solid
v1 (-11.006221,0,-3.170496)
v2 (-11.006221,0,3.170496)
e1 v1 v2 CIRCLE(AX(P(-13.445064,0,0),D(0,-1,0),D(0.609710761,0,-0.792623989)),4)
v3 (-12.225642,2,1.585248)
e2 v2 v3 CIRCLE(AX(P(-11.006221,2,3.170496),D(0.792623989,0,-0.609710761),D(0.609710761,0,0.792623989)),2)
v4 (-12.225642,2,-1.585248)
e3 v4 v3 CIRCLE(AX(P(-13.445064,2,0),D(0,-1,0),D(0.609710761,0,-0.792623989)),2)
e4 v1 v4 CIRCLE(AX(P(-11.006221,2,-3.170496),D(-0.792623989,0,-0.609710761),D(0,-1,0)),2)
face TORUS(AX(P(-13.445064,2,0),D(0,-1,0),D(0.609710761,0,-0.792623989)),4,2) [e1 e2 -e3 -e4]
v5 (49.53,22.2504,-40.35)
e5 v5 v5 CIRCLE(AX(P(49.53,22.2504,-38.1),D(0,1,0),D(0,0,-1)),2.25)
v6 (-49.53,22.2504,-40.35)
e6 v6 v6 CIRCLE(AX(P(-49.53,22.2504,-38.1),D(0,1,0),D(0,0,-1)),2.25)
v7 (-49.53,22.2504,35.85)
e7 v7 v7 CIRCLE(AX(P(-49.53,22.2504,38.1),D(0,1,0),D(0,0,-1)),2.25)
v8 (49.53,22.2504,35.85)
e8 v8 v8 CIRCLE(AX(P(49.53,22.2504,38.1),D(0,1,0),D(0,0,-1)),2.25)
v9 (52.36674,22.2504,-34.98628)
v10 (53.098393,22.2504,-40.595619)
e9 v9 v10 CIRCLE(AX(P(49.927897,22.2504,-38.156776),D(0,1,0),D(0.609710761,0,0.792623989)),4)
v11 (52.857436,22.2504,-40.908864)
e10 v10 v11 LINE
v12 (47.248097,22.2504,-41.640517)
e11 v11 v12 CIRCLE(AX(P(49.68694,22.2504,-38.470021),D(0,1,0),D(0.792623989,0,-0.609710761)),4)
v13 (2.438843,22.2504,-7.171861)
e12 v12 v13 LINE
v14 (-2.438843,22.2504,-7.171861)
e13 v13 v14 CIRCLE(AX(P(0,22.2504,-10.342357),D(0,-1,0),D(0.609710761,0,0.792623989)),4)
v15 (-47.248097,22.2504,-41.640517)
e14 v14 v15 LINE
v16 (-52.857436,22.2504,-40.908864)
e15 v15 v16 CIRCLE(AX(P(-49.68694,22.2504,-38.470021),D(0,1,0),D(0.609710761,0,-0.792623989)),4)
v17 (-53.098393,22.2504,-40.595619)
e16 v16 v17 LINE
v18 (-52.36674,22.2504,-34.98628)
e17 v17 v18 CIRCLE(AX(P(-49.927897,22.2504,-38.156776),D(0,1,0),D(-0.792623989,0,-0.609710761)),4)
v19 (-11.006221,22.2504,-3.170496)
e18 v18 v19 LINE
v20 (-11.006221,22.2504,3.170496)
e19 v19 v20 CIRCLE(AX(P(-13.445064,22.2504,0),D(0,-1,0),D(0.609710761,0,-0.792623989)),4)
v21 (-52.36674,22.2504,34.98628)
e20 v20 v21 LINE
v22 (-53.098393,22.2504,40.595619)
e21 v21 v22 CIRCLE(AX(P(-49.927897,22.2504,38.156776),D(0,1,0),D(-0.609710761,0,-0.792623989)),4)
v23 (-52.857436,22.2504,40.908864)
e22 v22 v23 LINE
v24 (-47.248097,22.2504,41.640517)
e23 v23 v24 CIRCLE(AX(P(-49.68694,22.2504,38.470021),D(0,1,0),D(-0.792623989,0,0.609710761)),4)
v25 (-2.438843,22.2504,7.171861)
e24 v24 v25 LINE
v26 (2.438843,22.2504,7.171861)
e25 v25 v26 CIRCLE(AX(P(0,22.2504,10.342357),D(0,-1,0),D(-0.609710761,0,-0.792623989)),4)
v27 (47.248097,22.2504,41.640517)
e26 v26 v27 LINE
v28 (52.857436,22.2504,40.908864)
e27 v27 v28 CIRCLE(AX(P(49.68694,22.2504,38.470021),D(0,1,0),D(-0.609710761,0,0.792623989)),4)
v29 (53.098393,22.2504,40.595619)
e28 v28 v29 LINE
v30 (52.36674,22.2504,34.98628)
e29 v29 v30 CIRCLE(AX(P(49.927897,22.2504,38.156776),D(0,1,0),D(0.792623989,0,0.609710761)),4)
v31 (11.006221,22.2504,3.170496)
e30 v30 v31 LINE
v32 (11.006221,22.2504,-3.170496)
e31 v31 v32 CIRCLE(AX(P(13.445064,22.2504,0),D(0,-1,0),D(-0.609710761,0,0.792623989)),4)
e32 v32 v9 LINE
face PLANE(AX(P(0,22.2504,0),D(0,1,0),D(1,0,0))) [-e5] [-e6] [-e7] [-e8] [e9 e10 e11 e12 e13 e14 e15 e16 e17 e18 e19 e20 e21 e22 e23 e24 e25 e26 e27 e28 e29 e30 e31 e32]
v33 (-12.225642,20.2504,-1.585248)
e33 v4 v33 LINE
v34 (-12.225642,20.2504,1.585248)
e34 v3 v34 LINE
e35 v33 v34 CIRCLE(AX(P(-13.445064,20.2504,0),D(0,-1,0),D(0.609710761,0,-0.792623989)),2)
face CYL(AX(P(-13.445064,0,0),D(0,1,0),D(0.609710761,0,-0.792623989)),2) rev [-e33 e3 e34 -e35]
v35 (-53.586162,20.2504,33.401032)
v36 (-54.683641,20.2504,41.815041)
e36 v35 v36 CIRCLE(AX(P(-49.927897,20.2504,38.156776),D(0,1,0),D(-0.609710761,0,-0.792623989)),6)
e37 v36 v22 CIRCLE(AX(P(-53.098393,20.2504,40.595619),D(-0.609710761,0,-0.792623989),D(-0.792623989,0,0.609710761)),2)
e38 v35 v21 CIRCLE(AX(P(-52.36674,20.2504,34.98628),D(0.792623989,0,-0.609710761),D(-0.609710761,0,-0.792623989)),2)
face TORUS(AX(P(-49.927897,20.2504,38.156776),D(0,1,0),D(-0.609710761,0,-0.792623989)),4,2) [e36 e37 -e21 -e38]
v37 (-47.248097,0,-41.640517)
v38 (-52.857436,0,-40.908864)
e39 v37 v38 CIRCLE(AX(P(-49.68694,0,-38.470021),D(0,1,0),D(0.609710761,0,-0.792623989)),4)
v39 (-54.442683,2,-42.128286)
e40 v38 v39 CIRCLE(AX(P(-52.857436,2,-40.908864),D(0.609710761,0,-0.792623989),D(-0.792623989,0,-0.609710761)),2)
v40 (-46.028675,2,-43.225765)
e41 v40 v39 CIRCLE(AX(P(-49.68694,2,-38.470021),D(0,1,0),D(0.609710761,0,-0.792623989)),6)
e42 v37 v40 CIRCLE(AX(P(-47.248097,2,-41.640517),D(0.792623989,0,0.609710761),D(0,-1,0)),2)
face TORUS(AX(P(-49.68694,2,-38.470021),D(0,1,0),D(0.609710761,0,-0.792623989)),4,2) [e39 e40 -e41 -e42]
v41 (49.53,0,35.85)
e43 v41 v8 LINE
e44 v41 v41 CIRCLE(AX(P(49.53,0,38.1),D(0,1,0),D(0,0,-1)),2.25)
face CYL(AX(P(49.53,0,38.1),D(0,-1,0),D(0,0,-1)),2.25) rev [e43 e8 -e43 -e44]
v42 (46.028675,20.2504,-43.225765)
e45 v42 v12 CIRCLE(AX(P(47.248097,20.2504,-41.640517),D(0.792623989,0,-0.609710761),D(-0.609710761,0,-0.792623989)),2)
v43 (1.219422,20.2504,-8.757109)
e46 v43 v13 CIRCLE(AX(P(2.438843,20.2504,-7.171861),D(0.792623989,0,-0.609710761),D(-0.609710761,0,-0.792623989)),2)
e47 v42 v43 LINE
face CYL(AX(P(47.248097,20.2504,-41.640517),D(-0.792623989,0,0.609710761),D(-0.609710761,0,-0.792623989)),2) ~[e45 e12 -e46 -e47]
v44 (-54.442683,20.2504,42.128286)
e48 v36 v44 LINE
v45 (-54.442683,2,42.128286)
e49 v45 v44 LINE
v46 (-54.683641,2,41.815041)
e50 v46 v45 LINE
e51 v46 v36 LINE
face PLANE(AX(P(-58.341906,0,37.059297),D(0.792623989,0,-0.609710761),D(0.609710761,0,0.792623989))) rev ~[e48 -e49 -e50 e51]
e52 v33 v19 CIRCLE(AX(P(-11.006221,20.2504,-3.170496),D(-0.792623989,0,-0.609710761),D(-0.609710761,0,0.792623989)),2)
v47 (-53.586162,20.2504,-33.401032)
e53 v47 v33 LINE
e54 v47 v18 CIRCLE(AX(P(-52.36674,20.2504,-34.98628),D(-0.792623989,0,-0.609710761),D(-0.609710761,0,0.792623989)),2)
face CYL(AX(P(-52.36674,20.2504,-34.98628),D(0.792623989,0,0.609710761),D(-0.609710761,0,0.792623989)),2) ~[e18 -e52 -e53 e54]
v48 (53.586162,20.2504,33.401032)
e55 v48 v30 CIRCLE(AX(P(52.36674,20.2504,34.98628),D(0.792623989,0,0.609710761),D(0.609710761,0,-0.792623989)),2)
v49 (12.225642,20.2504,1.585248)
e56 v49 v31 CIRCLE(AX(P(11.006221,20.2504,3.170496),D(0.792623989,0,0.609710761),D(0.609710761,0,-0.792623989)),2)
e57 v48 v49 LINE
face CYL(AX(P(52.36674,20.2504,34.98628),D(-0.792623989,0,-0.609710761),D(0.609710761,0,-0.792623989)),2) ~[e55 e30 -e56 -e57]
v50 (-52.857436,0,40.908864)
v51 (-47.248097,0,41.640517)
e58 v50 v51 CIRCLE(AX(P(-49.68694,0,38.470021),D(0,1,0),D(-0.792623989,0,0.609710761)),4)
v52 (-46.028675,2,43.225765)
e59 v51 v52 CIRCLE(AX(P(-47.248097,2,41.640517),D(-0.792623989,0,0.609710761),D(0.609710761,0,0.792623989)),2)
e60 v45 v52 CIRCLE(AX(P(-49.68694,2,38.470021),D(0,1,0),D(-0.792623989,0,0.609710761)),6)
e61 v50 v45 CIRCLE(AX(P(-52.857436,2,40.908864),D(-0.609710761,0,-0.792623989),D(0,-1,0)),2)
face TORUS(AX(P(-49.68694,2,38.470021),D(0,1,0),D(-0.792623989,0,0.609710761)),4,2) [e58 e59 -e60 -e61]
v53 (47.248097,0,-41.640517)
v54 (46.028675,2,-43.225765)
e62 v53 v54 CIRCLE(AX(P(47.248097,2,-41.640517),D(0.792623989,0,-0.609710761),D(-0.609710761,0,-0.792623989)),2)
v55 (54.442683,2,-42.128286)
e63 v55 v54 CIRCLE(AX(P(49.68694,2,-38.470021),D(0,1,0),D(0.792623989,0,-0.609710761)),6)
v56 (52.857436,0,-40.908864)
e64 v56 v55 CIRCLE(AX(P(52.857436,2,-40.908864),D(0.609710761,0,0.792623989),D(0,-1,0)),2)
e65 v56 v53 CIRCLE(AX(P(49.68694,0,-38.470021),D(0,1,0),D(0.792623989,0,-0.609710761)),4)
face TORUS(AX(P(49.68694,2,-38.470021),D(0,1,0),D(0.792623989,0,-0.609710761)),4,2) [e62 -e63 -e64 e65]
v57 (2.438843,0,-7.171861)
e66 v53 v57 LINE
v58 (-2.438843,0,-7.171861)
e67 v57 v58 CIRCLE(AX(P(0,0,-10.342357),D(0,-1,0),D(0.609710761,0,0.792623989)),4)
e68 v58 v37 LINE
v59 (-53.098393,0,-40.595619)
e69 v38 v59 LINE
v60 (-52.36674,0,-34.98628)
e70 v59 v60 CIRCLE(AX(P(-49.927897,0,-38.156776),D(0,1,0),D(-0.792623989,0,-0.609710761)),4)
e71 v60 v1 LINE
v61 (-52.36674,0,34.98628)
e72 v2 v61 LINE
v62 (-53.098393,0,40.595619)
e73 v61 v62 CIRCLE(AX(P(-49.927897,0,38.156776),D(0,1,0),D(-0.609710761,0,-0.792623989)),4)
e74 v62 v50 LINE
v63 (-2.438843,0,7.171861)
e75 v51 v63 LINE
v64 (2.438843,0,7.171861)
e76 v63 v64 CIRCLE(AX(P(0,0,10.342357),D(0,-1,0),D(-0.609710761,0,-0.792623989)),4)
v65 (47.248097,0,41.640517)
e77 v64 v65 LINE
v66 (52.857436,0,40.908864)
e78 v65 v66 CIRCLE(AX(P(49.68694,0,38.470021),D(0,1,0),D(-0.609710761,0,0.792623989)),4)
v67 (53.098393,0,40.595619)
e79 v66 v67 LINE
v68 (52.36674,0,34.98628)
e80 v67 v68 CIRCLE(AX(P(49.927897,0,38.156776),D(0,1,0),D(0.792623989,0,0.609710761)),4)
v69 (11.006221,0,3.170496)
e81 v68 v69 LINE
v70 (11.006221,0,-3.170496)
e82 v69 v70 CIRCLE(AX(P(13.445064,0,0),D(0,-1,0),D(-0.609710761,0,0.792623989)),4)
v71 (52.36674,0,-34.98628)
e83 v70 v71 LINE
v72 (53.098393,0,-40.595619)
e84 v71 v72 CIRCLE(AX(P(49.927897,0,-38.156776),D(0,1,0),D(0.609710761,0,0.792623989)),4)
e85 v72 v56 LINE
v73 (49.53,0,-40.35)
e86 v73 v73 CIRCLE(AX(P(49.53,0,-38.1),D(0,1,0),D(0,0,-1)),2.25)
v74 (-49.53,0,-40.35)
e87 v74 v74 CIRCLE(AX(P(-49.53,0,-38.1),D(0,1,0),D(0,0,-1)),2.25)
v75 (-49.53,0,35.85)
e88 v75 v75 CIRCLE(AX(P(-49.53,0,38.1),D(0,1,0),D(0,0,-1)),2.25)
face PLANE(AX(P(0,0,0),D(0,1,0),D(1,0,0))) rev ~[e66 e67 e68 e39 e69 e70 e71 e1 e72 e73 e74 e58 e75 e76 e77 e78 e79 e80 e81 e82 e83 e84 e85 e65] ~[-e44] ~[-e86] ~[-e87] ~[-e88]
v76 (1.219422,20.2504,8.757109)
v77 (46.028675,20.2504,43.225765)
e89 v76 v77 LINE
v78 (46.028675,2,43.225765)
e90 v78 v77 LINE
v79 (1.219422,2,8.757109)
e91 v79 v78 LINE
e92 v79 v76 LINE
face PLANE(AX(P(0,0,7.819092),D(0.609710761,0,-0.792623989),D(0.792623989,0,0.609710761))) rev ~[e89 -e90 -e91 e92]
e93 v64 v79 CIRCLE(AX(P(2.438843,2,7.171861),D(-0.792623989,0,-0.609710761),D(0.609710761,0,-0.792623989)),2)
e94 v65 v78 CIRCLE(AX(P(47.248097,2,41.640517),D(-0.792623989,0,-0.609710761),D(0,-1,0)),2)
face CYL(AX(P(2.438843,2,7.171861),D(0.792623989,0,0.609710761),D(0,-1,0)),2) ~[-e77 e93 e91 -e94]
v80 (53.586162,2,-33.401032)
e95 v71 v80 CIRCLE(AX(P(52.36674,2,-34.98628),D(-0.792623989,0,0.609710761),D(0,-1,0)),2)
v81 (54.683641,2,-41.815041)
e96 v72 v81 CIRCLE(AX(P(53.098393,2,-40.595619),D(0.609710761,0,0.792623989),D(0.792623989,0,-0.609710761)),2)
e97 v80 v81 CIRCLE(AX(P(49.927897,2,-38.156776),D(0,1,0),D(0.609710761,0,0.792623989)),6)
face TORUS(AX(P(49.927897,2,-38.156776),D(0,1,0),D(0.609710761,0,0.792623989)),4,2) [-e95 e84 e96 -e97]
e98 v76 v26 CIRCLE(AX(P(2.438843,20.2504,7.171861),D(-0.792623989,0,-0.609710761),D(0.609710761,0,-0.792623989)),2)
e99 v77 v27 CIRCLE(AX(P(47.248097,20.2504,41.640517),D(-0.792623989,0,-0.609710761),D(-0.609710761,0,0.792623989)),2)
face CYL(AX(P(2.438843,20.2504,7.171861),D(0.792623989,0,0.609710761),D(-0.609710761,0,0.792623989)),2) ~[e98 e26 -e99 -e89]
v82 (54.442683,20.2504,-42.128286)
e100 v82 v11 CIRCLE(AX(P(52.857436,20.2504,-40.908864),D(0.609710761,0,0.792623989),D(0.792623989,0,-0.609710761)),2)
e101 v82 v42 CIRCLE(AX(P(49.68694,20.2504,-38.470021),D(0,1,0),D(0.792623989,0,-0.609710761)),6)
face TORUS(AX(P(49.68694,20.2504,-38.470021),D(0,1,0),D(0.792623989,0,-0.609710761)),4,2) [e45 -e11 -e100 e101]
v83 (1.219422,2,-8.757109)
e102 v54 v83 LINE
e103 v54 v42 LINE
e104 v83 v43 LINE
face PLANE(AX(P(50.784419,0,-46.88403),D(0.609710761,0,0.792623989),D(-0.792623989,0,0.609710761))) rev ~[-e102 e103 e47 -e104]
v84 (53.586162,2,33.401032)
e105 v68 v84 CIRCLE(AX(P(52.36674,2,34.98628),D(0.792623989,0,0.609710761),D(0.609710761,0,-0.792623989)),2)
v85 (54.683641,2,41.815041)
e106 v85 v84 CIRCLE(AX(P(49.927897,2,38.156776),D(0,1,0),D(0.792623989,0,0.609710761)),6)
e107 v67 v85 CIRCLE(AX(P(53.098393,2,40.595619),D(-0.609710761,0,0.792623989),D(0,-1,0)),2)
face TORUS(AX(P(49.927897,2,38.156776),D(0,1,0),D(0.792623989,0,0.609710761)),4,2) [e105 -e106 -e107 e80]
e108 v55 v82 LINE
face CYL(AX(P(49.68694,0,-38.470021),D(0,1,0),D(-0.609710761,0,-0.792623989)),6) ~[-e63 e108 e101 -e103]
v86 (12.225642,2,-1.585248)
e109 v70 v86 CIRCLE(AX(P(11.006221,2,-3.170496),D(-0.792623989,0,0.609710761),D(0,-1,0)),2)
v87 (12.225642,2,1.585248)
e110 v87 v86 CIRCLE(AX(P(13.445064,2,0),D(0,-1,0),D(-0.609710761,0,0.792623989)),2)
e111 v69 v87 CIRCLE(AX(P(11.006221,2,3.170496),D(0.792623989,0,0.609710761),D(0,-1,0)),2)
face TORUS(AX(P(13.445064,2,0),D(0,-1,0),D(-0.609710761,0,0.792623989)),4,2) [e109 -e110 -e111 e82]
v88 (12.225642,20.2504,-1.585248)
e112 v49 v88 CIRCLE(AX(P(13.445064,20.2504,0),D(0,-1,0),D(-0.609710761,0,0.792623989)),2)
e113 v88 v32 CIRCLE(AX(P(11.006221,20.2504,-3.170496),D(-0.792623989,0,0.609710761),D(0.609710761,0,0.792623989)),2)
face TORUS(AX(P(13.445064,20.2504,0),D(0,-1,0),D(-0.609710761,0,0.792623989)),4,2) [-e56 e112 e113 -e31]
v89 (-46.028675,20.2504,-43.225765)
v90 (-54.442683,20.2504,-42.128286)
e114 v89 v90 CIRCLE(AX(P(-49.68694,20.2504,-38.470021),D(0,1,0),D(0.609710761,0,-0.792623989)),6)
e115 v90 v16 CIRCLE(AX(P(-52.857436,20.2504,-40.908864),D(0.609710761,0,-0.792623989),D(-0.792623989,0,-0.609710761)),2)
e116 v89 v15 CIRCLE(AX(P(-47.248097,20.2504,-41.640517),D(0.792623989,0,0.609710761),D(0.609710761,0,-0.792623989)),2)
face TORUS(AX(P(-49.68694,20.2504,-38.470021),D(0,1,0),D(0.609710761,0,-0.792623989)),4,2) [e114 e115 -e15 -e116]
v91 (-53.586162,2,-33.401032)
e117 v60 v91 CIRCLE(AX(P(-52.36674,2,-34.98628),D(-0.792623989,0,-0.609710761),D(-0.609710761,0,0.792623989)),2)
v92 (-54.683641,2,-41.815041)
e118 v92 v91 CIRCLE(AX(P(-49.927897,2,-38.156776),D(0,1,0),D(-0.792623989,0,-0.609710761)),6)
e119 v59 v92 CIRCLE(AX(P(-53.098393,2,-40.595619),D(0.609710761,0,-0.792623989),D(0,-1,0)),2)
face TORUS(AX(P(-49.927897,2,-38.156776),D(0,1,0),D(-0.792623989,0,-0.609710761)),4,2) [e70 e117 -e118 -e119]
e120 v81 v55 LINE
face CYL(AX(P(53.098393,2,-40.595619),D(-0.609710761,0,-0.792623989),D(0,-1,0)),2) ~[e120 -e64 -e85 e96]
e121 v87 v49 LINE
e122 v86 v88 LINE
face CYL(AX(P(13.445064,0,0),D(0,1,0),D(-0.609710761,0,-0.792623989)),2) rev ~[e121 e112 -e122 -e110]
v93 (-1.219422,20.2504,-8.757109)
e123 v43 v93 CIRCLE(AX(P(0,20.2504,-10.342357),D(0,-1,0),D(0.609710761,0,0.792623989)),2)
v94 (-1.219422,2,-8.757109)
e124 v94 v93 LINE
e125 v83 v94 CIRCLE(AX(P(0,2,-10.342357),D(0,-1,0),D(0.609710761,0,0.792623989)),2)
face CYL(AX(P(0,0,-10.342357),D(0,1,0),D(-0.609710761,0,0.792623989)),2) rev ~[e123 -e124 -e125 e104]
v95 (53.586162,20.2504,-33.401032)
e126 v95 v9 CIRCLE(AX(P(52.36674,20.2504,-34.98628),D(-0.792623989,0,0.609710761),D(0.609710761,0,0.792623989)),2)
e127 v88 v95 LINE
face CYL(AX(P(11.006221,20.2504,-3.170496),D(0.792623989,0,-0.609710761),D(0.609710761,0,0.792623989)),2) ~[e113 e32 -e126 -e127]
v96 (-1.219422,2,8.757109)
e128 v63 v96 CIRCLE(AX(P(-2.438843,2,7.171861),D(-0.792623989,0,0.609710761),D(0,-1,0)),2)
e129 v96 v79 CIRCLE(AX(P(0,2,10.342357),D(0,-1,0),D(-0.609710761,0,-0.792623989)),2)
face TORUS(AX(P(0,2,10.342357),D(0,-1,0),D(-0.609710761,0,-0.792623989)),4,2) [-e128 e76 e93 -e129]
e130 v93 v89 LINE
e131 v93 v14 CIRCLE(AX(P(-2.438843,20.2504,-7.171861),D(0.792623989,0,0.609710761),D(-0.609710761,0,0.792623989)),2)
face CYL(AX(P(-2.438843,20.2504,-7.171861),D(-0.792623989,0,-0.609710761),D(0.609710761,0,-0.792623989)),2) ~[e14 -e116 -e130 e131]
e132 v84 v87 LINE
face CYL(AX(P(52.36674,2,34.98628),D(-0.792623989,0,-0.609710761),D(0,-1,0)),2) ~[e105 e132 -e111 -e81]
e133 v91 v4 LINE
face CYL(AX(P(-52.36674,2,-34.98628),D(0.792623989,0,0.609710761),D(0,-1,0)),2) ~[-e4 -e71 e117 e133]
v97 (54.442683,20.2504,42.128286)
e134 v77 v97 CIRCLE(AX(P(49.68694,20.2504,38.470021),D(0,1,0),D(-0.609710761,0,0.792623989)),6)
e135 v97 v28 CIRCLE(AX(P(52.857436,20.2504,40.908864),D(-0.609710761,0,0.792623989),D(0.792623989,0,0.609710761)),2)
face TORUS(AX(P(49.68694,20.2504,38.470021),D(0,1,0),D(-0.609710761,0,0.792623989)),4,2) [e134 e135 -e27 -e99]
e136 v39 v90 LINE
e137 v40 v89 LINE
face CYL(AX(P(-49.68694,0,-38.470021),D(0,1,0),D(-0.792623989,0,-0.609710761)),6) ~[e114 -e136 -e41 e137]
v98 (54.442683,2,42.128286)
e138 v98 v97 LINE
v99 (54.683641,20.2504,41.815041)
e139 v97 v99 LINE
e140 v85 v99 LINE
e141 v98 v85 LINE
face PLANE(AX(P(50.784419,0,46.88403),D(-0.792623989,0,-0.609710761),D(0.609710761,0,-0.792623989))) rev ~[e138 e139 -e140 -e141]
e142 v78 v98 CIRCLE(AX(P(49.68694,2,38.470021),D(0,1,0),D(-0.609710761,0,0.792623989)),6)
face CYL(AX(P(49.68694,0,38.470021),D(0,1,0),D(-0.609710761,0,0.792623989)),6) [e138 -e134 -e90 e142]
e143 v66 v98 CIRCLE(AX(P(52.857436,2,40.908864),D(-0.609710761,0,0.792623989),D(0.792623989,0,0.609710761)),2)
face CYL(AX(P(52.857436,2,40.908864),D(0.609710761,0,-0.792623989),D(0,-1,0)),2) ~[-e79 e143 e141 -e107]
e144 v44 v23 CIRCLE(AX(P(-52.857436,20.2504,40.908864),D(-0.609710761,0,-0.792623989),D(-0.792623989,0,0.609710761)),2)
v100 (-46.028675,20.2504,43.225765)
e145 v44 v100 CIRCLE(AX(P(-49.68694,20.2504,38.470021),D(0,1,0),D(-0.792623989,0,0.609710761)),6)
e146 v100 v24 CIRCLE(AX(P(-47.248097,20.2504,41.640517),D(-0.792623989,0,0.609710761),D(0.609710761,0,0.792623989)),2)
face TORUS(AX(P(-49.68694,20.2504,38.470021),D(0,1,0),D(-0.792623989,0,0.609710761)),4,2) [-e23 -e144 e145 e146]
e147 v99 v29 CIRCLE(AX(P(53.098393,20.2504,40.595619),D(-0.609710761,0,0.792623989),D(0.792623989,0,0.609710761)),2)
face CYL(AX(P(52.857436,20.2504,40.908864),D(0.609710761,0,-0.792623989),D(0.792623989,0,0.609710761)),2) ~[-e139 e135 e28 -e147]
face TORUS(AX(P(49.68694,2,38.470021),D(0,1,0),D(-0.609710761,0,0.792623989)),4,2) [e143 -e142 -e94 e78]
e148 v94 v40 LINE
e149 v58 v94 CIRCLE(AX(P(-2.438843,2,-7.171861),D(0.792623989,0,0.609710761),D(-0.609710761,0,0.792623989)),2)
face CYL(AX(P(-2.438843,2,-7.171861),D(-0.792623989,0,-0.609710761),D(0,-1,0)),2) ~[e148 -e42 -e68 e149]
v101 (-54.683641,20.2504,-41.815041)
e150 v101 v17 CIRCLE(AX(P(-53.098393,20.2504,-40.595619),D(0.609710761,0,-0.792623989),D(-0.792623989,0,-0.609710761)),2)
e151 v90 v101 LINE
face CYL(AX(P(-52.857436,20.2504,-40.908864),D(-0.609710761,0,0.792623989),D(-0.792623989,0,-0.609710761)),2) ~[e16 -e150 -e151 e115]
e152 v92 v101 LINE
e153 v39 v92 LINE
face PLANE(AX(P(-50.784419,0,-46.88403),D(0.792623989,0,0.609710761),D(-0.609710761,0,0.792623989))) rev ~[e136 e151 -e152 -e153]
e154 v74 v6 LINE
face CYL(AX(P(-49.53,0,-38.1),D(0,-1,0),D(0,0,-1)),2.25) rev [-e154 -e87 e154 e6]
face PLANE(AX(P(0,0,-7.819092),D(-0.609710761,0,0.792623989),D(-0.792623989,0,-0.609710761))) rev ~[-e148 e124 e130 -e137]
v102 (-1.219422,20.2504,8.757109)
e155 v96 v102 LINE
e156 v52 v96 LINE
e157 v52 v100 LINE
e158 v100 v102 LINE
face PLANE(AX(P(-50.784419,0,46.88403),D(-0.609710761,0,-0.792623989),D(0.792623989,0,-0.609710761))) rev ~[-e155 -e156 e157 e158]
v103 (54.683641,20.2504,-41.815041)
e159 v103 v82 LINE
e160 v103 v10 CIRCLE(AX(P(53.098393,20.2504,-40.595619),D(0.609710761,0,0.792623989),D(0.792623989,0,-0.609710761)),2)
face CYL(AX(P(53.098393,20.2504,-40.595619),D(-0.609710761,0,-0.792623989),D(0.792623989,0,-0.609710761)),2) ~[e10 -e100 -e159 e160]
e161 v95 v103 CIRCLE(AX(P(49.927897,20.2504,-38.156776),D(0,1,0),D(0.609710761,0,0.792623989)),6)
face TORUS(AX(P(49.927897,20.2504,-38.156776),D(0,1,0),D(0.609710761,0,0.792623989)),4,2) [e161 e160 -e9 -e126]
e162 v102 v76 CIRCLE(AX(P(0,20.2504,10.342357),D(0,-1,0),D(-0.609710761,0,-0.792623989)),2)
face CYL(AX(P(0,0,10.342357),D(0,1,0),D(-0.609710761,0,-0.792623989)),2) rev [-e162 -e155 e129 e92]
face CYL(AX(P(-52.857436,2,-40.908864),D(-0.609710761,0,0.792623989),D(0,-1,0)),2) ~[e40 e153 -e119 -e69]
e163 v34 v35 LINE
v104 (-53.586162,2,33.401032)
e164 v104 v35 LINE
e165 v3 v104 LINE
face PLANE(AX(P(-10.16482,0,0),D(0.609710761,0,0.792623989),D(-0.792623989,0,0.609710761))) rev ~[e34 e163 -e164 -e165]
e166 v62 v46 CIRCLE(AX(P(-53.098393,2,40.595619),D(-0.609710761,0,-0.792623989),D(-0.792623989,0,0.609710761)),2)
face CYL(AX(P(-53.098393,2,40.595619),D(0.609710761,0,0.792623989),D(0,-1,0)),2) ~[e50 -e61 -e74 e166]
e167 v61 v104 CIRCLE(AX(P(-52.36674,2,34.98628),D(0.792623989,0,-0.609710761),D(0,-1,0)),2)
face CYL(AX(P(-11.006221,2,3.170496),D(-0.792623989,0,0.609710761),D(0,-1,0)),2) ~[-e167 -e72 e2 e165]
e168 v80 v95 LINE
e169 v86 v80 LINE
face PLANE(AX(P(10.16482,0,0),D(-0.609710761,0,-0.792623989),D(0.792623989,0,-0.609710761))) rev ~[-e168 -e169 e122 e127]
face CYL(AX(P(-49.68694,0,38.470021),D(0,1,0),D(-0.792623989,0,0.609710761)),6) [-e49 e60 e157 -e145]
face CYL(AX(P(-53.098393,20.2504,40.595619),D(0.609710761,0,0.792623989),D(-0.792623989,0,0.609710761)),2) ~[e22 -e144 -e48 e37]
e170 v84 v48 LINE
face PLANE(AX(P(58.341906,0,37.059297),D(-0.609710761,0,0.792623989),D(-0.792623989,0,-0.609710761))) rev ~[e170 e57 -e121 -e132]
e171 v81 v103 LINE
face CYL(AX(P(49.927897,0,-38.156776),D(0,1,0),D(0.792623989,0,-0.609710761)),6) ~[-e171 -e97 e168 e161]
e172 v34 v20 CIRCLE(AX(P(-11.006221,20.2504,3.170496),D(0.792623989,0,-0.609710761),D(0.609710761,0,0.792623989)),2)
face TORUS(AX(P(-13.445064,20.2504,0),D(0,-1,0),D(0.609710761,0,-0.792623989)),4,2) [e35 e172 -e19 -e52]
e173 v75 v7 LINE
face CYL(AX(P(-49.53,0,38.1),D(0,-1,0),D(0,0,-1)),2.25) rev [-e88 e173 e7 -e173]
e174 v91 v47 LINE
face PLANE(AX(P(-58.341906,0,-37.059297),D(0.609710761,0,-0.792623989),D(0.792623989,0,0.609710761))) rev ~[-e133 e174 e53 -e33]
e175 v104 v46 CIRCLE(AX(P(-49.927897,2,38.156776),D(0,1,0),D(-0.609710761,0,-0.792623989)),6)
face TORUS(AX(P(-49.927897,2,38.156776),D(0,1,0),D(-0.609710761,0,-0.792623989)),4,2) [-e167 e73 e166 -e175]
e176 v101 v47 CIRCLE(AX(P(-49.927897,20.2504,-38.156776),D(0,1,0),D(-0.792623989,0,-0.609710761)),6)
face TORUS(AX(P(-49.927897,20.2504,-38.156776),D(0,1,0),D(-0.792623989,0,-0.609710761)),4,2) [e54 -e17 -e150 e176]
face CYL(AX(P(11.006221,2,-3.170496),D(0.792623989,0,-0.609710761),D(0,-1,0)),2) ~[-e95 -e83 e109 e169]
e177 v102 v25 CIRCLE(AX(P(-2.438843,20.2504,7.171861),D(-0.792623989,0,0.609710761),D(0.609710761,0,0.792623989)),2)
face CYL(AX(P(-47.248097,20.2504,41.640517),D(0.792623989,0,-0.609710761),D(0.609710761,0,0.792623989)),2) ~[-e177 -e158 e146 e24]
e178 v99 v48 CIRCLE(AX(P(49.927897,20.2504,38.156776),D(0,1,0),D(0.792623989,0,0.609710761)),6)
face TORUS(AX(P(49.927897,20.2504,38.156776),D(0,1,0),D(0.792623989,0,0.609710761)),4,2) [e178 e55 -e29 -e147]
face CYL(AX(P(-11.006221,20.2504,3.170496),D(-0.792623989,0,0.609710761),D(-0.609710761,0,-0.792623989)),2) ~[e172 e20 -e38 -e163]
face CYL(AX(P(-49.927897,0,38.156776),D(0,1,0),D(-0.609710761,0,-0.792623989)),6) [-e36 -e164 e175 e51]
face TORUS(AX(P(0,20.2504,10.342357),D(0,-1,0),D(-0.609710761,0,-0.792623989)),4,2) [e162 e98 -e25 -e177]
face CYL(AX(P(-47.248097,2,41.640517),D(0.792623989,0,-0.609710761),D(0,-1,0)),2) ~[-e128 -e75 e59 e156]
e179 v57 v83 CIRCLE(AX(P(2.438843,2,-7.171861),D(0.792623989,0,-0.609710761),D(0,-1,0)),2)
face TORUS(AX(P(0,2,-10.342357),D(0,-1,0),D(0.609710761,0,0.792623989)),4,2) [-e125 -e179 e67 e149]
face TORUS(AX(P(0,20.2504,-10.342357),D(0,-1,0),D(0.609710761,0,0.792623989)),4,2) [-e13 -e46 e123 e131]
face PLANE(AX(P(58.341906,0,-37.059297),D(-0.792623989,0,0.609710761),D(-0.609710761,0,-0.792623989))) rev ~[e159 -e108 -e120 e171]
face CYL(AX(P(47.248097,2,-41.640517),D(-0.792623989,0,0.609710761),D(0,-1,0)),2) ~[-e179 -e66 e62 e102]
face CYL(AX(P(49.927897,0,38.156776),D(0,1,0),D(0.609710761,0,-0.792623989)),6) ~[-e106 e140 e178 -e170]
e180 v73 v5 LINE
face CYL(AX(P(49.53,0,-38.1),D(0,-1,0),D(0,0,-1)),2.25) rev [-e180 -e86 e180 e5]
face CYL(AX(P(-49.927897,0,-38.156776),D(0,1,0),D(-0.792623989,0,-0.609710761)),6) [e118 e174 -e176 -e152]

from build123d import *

# Parameters (mm, degrees)
SKETCH1_R           = 2.25
BOSS_EXTRUDE1_DEPTH = 22.2504
FILLET1_R           = 6
FILLET2_R           = 2
FILLET4_R           = 2


with BuildPart() as part:
    # Sketch1 → Boss-Extrude1 (new body)
    with BuildSketch(Plane(origin=(0, 0, 0), x_dir=(1, 0, 0), z_dir=(0, 1, 0))):
        Polygon((-50.784418919, 46.884029766), (-58.341905742, 37.059296897), (-10.164819777, 0), (-58.341905742, -37.059296897), (-50.784418919, -46.884029766), (0, -7.819092136), (50.784418919, -46.884029766), (58.341905742, -37.059296897), (10.164819777, 0), (58.341905742, 37.059296897), (50.784418919, 46.884029766), (0, 7.819092136), align=None)
        with Locations(Location((-49.53, 38.1, 0), (0, 0, 90))):
            Circle(SKETCH1_R, mode=Mode.SUBTRACT)
        with Locations(Location((-49.53, -38.1, 0), (0, 0, 90))):
            Circle(SKETCH1_R, mode=Mode.SUBTRACT)
        with Locations(Location((49.53, -38.1, 0), (0, 0, 90))):
            Circle(SKETCH1_R, mode=Mode.SUBTRACT)
        with Locations(Location((49.53, 38.1, 0), (0, 0, 90))):
            Circle(SKETCH1_R, mode=Mode.SUBTRACT)
    extrude(amount=BOSS_EXTRUDE1_DEPTH)

    # Fillet1
    fillet1_edges = [part.edges().sort_by_distance(p)[0] for p in [
        (50.784418919, 11.1252, -46.884029766),
        (58.341905742, 11.1252, -37.059296897),
        (58.341905742, 11.1252, 37.059296897),
        (50.784418919, 11.1252, 46.884029766),
        (-50.784418919, 11.1252, 46.884029766),
        (-58.341905742, 11.1252, 37.059296897),
        (-58.341905742, 11.1252, -37.059296897),
        (-50.784418919, 11.1252, -46.884029766),
    ]]
    fillet(fillet1_edges, radius=FILLET1_R)

    # Fillet2
    fillet2_edges = [part.edges().sort_by_distance(p)[0] for p in [
        (0, 11.1252, -7.819092136),
        (10.164819777, 11.1252, 0),
        (0, 11.1252, 7.819092136),
        (-10.164819777, 11.1252, 0),
    ]]
    fillet(fillet2_edges, radius=FILLET2_R)

    # Fillet4
    fillet4_edges = [part.edges().sort_by_distance(p)[0] for p in [
        (32.905901978, 0, -17.493140155),
        (32.905901978, 22.2504, -17.493140155),
        (-23.624048253, 0, -25.991436946),
        (-23.624048253, 22.2504, -25.991436946),
        (-32.905901978, 0, 17.493140155),
        (-32.905901978, 22.2504, 17.493140155),
        (23.624048253, 0, 25.991436946),
        (23.624048253, 22.2504, 25.991436946),
        (11.44506367, 0, 0),
        (11.44506367, 22.2504, 0),
        (0, 0, -8.342356669),
        (0, 22.2504, -8.342356669),
        (-11.44506367, 0, 0),
        (-11.44506367, 22.2504, 0),
        (0, 0, 8.342356669),
        (0, 22.2504, 8.342356669),
        (23.624048253, 0, -25.991436946),
        (23.624048253, 22.2504, -25.991436946),
        (54.563162331, 0, -41.971663331),
        (32.905901978, 0, 17.493140155),
        (54.563162331, 0, 41.971663331),
        (-23.624048253, 0, 25.991436946),
        (-54.563162331, 0, 41.971663331),
        (-32.905901978, 0, -17.493140155),
        (-54.563162331, 0, -41.971663331),
        (-55.87749971, 0, -37.380741162),
        (-50.462974654, 0, -44.419623734),
        (-55.87749971, 0, 37.380741162),
        (-50.462974654, 0, 44.419623734),
        (50.462974654, 0, 44.419623734),
        (55.87749971, 0, 37.380741162),
        (55.87749971, 0, -37.380741162),
        (50.462974654, 0, -44.419623734),
        (54.563162331, 22.2504, -41.971663331),
        (-54.563162331, 22.2504, -41.971663331),
        (-32.905901978, 22.2504, -17.493140155),
        (-54.563162331, 22.2504, 41.971663331),
        (-23.624048253, 22.2504, 25.991436946),
        (54.563162331, 22.2504, 41.971663331),
        (32.905901978, 22.2504, 17.493140155),
        (-55.87749971, 22.2504, -37.380741162),
        (-50.462974654, 22.2504, -44.419623734),
        (-55.87749971, 22.2504, 37.380741162),
        (-50.462974654, 22.2504, 44.419623734),
        (50.462974654, 22.2504, 44.419623734),
        (55.87749971, 22.2504, 37.380741162),
        (55.87749971, 22.2504, -37.380741162),
        (50.462974654, 22.2504, -44.419623734),
    ]]
    fillet(fillet4_edges, radius=FILLET4_R)


solid = part.part
